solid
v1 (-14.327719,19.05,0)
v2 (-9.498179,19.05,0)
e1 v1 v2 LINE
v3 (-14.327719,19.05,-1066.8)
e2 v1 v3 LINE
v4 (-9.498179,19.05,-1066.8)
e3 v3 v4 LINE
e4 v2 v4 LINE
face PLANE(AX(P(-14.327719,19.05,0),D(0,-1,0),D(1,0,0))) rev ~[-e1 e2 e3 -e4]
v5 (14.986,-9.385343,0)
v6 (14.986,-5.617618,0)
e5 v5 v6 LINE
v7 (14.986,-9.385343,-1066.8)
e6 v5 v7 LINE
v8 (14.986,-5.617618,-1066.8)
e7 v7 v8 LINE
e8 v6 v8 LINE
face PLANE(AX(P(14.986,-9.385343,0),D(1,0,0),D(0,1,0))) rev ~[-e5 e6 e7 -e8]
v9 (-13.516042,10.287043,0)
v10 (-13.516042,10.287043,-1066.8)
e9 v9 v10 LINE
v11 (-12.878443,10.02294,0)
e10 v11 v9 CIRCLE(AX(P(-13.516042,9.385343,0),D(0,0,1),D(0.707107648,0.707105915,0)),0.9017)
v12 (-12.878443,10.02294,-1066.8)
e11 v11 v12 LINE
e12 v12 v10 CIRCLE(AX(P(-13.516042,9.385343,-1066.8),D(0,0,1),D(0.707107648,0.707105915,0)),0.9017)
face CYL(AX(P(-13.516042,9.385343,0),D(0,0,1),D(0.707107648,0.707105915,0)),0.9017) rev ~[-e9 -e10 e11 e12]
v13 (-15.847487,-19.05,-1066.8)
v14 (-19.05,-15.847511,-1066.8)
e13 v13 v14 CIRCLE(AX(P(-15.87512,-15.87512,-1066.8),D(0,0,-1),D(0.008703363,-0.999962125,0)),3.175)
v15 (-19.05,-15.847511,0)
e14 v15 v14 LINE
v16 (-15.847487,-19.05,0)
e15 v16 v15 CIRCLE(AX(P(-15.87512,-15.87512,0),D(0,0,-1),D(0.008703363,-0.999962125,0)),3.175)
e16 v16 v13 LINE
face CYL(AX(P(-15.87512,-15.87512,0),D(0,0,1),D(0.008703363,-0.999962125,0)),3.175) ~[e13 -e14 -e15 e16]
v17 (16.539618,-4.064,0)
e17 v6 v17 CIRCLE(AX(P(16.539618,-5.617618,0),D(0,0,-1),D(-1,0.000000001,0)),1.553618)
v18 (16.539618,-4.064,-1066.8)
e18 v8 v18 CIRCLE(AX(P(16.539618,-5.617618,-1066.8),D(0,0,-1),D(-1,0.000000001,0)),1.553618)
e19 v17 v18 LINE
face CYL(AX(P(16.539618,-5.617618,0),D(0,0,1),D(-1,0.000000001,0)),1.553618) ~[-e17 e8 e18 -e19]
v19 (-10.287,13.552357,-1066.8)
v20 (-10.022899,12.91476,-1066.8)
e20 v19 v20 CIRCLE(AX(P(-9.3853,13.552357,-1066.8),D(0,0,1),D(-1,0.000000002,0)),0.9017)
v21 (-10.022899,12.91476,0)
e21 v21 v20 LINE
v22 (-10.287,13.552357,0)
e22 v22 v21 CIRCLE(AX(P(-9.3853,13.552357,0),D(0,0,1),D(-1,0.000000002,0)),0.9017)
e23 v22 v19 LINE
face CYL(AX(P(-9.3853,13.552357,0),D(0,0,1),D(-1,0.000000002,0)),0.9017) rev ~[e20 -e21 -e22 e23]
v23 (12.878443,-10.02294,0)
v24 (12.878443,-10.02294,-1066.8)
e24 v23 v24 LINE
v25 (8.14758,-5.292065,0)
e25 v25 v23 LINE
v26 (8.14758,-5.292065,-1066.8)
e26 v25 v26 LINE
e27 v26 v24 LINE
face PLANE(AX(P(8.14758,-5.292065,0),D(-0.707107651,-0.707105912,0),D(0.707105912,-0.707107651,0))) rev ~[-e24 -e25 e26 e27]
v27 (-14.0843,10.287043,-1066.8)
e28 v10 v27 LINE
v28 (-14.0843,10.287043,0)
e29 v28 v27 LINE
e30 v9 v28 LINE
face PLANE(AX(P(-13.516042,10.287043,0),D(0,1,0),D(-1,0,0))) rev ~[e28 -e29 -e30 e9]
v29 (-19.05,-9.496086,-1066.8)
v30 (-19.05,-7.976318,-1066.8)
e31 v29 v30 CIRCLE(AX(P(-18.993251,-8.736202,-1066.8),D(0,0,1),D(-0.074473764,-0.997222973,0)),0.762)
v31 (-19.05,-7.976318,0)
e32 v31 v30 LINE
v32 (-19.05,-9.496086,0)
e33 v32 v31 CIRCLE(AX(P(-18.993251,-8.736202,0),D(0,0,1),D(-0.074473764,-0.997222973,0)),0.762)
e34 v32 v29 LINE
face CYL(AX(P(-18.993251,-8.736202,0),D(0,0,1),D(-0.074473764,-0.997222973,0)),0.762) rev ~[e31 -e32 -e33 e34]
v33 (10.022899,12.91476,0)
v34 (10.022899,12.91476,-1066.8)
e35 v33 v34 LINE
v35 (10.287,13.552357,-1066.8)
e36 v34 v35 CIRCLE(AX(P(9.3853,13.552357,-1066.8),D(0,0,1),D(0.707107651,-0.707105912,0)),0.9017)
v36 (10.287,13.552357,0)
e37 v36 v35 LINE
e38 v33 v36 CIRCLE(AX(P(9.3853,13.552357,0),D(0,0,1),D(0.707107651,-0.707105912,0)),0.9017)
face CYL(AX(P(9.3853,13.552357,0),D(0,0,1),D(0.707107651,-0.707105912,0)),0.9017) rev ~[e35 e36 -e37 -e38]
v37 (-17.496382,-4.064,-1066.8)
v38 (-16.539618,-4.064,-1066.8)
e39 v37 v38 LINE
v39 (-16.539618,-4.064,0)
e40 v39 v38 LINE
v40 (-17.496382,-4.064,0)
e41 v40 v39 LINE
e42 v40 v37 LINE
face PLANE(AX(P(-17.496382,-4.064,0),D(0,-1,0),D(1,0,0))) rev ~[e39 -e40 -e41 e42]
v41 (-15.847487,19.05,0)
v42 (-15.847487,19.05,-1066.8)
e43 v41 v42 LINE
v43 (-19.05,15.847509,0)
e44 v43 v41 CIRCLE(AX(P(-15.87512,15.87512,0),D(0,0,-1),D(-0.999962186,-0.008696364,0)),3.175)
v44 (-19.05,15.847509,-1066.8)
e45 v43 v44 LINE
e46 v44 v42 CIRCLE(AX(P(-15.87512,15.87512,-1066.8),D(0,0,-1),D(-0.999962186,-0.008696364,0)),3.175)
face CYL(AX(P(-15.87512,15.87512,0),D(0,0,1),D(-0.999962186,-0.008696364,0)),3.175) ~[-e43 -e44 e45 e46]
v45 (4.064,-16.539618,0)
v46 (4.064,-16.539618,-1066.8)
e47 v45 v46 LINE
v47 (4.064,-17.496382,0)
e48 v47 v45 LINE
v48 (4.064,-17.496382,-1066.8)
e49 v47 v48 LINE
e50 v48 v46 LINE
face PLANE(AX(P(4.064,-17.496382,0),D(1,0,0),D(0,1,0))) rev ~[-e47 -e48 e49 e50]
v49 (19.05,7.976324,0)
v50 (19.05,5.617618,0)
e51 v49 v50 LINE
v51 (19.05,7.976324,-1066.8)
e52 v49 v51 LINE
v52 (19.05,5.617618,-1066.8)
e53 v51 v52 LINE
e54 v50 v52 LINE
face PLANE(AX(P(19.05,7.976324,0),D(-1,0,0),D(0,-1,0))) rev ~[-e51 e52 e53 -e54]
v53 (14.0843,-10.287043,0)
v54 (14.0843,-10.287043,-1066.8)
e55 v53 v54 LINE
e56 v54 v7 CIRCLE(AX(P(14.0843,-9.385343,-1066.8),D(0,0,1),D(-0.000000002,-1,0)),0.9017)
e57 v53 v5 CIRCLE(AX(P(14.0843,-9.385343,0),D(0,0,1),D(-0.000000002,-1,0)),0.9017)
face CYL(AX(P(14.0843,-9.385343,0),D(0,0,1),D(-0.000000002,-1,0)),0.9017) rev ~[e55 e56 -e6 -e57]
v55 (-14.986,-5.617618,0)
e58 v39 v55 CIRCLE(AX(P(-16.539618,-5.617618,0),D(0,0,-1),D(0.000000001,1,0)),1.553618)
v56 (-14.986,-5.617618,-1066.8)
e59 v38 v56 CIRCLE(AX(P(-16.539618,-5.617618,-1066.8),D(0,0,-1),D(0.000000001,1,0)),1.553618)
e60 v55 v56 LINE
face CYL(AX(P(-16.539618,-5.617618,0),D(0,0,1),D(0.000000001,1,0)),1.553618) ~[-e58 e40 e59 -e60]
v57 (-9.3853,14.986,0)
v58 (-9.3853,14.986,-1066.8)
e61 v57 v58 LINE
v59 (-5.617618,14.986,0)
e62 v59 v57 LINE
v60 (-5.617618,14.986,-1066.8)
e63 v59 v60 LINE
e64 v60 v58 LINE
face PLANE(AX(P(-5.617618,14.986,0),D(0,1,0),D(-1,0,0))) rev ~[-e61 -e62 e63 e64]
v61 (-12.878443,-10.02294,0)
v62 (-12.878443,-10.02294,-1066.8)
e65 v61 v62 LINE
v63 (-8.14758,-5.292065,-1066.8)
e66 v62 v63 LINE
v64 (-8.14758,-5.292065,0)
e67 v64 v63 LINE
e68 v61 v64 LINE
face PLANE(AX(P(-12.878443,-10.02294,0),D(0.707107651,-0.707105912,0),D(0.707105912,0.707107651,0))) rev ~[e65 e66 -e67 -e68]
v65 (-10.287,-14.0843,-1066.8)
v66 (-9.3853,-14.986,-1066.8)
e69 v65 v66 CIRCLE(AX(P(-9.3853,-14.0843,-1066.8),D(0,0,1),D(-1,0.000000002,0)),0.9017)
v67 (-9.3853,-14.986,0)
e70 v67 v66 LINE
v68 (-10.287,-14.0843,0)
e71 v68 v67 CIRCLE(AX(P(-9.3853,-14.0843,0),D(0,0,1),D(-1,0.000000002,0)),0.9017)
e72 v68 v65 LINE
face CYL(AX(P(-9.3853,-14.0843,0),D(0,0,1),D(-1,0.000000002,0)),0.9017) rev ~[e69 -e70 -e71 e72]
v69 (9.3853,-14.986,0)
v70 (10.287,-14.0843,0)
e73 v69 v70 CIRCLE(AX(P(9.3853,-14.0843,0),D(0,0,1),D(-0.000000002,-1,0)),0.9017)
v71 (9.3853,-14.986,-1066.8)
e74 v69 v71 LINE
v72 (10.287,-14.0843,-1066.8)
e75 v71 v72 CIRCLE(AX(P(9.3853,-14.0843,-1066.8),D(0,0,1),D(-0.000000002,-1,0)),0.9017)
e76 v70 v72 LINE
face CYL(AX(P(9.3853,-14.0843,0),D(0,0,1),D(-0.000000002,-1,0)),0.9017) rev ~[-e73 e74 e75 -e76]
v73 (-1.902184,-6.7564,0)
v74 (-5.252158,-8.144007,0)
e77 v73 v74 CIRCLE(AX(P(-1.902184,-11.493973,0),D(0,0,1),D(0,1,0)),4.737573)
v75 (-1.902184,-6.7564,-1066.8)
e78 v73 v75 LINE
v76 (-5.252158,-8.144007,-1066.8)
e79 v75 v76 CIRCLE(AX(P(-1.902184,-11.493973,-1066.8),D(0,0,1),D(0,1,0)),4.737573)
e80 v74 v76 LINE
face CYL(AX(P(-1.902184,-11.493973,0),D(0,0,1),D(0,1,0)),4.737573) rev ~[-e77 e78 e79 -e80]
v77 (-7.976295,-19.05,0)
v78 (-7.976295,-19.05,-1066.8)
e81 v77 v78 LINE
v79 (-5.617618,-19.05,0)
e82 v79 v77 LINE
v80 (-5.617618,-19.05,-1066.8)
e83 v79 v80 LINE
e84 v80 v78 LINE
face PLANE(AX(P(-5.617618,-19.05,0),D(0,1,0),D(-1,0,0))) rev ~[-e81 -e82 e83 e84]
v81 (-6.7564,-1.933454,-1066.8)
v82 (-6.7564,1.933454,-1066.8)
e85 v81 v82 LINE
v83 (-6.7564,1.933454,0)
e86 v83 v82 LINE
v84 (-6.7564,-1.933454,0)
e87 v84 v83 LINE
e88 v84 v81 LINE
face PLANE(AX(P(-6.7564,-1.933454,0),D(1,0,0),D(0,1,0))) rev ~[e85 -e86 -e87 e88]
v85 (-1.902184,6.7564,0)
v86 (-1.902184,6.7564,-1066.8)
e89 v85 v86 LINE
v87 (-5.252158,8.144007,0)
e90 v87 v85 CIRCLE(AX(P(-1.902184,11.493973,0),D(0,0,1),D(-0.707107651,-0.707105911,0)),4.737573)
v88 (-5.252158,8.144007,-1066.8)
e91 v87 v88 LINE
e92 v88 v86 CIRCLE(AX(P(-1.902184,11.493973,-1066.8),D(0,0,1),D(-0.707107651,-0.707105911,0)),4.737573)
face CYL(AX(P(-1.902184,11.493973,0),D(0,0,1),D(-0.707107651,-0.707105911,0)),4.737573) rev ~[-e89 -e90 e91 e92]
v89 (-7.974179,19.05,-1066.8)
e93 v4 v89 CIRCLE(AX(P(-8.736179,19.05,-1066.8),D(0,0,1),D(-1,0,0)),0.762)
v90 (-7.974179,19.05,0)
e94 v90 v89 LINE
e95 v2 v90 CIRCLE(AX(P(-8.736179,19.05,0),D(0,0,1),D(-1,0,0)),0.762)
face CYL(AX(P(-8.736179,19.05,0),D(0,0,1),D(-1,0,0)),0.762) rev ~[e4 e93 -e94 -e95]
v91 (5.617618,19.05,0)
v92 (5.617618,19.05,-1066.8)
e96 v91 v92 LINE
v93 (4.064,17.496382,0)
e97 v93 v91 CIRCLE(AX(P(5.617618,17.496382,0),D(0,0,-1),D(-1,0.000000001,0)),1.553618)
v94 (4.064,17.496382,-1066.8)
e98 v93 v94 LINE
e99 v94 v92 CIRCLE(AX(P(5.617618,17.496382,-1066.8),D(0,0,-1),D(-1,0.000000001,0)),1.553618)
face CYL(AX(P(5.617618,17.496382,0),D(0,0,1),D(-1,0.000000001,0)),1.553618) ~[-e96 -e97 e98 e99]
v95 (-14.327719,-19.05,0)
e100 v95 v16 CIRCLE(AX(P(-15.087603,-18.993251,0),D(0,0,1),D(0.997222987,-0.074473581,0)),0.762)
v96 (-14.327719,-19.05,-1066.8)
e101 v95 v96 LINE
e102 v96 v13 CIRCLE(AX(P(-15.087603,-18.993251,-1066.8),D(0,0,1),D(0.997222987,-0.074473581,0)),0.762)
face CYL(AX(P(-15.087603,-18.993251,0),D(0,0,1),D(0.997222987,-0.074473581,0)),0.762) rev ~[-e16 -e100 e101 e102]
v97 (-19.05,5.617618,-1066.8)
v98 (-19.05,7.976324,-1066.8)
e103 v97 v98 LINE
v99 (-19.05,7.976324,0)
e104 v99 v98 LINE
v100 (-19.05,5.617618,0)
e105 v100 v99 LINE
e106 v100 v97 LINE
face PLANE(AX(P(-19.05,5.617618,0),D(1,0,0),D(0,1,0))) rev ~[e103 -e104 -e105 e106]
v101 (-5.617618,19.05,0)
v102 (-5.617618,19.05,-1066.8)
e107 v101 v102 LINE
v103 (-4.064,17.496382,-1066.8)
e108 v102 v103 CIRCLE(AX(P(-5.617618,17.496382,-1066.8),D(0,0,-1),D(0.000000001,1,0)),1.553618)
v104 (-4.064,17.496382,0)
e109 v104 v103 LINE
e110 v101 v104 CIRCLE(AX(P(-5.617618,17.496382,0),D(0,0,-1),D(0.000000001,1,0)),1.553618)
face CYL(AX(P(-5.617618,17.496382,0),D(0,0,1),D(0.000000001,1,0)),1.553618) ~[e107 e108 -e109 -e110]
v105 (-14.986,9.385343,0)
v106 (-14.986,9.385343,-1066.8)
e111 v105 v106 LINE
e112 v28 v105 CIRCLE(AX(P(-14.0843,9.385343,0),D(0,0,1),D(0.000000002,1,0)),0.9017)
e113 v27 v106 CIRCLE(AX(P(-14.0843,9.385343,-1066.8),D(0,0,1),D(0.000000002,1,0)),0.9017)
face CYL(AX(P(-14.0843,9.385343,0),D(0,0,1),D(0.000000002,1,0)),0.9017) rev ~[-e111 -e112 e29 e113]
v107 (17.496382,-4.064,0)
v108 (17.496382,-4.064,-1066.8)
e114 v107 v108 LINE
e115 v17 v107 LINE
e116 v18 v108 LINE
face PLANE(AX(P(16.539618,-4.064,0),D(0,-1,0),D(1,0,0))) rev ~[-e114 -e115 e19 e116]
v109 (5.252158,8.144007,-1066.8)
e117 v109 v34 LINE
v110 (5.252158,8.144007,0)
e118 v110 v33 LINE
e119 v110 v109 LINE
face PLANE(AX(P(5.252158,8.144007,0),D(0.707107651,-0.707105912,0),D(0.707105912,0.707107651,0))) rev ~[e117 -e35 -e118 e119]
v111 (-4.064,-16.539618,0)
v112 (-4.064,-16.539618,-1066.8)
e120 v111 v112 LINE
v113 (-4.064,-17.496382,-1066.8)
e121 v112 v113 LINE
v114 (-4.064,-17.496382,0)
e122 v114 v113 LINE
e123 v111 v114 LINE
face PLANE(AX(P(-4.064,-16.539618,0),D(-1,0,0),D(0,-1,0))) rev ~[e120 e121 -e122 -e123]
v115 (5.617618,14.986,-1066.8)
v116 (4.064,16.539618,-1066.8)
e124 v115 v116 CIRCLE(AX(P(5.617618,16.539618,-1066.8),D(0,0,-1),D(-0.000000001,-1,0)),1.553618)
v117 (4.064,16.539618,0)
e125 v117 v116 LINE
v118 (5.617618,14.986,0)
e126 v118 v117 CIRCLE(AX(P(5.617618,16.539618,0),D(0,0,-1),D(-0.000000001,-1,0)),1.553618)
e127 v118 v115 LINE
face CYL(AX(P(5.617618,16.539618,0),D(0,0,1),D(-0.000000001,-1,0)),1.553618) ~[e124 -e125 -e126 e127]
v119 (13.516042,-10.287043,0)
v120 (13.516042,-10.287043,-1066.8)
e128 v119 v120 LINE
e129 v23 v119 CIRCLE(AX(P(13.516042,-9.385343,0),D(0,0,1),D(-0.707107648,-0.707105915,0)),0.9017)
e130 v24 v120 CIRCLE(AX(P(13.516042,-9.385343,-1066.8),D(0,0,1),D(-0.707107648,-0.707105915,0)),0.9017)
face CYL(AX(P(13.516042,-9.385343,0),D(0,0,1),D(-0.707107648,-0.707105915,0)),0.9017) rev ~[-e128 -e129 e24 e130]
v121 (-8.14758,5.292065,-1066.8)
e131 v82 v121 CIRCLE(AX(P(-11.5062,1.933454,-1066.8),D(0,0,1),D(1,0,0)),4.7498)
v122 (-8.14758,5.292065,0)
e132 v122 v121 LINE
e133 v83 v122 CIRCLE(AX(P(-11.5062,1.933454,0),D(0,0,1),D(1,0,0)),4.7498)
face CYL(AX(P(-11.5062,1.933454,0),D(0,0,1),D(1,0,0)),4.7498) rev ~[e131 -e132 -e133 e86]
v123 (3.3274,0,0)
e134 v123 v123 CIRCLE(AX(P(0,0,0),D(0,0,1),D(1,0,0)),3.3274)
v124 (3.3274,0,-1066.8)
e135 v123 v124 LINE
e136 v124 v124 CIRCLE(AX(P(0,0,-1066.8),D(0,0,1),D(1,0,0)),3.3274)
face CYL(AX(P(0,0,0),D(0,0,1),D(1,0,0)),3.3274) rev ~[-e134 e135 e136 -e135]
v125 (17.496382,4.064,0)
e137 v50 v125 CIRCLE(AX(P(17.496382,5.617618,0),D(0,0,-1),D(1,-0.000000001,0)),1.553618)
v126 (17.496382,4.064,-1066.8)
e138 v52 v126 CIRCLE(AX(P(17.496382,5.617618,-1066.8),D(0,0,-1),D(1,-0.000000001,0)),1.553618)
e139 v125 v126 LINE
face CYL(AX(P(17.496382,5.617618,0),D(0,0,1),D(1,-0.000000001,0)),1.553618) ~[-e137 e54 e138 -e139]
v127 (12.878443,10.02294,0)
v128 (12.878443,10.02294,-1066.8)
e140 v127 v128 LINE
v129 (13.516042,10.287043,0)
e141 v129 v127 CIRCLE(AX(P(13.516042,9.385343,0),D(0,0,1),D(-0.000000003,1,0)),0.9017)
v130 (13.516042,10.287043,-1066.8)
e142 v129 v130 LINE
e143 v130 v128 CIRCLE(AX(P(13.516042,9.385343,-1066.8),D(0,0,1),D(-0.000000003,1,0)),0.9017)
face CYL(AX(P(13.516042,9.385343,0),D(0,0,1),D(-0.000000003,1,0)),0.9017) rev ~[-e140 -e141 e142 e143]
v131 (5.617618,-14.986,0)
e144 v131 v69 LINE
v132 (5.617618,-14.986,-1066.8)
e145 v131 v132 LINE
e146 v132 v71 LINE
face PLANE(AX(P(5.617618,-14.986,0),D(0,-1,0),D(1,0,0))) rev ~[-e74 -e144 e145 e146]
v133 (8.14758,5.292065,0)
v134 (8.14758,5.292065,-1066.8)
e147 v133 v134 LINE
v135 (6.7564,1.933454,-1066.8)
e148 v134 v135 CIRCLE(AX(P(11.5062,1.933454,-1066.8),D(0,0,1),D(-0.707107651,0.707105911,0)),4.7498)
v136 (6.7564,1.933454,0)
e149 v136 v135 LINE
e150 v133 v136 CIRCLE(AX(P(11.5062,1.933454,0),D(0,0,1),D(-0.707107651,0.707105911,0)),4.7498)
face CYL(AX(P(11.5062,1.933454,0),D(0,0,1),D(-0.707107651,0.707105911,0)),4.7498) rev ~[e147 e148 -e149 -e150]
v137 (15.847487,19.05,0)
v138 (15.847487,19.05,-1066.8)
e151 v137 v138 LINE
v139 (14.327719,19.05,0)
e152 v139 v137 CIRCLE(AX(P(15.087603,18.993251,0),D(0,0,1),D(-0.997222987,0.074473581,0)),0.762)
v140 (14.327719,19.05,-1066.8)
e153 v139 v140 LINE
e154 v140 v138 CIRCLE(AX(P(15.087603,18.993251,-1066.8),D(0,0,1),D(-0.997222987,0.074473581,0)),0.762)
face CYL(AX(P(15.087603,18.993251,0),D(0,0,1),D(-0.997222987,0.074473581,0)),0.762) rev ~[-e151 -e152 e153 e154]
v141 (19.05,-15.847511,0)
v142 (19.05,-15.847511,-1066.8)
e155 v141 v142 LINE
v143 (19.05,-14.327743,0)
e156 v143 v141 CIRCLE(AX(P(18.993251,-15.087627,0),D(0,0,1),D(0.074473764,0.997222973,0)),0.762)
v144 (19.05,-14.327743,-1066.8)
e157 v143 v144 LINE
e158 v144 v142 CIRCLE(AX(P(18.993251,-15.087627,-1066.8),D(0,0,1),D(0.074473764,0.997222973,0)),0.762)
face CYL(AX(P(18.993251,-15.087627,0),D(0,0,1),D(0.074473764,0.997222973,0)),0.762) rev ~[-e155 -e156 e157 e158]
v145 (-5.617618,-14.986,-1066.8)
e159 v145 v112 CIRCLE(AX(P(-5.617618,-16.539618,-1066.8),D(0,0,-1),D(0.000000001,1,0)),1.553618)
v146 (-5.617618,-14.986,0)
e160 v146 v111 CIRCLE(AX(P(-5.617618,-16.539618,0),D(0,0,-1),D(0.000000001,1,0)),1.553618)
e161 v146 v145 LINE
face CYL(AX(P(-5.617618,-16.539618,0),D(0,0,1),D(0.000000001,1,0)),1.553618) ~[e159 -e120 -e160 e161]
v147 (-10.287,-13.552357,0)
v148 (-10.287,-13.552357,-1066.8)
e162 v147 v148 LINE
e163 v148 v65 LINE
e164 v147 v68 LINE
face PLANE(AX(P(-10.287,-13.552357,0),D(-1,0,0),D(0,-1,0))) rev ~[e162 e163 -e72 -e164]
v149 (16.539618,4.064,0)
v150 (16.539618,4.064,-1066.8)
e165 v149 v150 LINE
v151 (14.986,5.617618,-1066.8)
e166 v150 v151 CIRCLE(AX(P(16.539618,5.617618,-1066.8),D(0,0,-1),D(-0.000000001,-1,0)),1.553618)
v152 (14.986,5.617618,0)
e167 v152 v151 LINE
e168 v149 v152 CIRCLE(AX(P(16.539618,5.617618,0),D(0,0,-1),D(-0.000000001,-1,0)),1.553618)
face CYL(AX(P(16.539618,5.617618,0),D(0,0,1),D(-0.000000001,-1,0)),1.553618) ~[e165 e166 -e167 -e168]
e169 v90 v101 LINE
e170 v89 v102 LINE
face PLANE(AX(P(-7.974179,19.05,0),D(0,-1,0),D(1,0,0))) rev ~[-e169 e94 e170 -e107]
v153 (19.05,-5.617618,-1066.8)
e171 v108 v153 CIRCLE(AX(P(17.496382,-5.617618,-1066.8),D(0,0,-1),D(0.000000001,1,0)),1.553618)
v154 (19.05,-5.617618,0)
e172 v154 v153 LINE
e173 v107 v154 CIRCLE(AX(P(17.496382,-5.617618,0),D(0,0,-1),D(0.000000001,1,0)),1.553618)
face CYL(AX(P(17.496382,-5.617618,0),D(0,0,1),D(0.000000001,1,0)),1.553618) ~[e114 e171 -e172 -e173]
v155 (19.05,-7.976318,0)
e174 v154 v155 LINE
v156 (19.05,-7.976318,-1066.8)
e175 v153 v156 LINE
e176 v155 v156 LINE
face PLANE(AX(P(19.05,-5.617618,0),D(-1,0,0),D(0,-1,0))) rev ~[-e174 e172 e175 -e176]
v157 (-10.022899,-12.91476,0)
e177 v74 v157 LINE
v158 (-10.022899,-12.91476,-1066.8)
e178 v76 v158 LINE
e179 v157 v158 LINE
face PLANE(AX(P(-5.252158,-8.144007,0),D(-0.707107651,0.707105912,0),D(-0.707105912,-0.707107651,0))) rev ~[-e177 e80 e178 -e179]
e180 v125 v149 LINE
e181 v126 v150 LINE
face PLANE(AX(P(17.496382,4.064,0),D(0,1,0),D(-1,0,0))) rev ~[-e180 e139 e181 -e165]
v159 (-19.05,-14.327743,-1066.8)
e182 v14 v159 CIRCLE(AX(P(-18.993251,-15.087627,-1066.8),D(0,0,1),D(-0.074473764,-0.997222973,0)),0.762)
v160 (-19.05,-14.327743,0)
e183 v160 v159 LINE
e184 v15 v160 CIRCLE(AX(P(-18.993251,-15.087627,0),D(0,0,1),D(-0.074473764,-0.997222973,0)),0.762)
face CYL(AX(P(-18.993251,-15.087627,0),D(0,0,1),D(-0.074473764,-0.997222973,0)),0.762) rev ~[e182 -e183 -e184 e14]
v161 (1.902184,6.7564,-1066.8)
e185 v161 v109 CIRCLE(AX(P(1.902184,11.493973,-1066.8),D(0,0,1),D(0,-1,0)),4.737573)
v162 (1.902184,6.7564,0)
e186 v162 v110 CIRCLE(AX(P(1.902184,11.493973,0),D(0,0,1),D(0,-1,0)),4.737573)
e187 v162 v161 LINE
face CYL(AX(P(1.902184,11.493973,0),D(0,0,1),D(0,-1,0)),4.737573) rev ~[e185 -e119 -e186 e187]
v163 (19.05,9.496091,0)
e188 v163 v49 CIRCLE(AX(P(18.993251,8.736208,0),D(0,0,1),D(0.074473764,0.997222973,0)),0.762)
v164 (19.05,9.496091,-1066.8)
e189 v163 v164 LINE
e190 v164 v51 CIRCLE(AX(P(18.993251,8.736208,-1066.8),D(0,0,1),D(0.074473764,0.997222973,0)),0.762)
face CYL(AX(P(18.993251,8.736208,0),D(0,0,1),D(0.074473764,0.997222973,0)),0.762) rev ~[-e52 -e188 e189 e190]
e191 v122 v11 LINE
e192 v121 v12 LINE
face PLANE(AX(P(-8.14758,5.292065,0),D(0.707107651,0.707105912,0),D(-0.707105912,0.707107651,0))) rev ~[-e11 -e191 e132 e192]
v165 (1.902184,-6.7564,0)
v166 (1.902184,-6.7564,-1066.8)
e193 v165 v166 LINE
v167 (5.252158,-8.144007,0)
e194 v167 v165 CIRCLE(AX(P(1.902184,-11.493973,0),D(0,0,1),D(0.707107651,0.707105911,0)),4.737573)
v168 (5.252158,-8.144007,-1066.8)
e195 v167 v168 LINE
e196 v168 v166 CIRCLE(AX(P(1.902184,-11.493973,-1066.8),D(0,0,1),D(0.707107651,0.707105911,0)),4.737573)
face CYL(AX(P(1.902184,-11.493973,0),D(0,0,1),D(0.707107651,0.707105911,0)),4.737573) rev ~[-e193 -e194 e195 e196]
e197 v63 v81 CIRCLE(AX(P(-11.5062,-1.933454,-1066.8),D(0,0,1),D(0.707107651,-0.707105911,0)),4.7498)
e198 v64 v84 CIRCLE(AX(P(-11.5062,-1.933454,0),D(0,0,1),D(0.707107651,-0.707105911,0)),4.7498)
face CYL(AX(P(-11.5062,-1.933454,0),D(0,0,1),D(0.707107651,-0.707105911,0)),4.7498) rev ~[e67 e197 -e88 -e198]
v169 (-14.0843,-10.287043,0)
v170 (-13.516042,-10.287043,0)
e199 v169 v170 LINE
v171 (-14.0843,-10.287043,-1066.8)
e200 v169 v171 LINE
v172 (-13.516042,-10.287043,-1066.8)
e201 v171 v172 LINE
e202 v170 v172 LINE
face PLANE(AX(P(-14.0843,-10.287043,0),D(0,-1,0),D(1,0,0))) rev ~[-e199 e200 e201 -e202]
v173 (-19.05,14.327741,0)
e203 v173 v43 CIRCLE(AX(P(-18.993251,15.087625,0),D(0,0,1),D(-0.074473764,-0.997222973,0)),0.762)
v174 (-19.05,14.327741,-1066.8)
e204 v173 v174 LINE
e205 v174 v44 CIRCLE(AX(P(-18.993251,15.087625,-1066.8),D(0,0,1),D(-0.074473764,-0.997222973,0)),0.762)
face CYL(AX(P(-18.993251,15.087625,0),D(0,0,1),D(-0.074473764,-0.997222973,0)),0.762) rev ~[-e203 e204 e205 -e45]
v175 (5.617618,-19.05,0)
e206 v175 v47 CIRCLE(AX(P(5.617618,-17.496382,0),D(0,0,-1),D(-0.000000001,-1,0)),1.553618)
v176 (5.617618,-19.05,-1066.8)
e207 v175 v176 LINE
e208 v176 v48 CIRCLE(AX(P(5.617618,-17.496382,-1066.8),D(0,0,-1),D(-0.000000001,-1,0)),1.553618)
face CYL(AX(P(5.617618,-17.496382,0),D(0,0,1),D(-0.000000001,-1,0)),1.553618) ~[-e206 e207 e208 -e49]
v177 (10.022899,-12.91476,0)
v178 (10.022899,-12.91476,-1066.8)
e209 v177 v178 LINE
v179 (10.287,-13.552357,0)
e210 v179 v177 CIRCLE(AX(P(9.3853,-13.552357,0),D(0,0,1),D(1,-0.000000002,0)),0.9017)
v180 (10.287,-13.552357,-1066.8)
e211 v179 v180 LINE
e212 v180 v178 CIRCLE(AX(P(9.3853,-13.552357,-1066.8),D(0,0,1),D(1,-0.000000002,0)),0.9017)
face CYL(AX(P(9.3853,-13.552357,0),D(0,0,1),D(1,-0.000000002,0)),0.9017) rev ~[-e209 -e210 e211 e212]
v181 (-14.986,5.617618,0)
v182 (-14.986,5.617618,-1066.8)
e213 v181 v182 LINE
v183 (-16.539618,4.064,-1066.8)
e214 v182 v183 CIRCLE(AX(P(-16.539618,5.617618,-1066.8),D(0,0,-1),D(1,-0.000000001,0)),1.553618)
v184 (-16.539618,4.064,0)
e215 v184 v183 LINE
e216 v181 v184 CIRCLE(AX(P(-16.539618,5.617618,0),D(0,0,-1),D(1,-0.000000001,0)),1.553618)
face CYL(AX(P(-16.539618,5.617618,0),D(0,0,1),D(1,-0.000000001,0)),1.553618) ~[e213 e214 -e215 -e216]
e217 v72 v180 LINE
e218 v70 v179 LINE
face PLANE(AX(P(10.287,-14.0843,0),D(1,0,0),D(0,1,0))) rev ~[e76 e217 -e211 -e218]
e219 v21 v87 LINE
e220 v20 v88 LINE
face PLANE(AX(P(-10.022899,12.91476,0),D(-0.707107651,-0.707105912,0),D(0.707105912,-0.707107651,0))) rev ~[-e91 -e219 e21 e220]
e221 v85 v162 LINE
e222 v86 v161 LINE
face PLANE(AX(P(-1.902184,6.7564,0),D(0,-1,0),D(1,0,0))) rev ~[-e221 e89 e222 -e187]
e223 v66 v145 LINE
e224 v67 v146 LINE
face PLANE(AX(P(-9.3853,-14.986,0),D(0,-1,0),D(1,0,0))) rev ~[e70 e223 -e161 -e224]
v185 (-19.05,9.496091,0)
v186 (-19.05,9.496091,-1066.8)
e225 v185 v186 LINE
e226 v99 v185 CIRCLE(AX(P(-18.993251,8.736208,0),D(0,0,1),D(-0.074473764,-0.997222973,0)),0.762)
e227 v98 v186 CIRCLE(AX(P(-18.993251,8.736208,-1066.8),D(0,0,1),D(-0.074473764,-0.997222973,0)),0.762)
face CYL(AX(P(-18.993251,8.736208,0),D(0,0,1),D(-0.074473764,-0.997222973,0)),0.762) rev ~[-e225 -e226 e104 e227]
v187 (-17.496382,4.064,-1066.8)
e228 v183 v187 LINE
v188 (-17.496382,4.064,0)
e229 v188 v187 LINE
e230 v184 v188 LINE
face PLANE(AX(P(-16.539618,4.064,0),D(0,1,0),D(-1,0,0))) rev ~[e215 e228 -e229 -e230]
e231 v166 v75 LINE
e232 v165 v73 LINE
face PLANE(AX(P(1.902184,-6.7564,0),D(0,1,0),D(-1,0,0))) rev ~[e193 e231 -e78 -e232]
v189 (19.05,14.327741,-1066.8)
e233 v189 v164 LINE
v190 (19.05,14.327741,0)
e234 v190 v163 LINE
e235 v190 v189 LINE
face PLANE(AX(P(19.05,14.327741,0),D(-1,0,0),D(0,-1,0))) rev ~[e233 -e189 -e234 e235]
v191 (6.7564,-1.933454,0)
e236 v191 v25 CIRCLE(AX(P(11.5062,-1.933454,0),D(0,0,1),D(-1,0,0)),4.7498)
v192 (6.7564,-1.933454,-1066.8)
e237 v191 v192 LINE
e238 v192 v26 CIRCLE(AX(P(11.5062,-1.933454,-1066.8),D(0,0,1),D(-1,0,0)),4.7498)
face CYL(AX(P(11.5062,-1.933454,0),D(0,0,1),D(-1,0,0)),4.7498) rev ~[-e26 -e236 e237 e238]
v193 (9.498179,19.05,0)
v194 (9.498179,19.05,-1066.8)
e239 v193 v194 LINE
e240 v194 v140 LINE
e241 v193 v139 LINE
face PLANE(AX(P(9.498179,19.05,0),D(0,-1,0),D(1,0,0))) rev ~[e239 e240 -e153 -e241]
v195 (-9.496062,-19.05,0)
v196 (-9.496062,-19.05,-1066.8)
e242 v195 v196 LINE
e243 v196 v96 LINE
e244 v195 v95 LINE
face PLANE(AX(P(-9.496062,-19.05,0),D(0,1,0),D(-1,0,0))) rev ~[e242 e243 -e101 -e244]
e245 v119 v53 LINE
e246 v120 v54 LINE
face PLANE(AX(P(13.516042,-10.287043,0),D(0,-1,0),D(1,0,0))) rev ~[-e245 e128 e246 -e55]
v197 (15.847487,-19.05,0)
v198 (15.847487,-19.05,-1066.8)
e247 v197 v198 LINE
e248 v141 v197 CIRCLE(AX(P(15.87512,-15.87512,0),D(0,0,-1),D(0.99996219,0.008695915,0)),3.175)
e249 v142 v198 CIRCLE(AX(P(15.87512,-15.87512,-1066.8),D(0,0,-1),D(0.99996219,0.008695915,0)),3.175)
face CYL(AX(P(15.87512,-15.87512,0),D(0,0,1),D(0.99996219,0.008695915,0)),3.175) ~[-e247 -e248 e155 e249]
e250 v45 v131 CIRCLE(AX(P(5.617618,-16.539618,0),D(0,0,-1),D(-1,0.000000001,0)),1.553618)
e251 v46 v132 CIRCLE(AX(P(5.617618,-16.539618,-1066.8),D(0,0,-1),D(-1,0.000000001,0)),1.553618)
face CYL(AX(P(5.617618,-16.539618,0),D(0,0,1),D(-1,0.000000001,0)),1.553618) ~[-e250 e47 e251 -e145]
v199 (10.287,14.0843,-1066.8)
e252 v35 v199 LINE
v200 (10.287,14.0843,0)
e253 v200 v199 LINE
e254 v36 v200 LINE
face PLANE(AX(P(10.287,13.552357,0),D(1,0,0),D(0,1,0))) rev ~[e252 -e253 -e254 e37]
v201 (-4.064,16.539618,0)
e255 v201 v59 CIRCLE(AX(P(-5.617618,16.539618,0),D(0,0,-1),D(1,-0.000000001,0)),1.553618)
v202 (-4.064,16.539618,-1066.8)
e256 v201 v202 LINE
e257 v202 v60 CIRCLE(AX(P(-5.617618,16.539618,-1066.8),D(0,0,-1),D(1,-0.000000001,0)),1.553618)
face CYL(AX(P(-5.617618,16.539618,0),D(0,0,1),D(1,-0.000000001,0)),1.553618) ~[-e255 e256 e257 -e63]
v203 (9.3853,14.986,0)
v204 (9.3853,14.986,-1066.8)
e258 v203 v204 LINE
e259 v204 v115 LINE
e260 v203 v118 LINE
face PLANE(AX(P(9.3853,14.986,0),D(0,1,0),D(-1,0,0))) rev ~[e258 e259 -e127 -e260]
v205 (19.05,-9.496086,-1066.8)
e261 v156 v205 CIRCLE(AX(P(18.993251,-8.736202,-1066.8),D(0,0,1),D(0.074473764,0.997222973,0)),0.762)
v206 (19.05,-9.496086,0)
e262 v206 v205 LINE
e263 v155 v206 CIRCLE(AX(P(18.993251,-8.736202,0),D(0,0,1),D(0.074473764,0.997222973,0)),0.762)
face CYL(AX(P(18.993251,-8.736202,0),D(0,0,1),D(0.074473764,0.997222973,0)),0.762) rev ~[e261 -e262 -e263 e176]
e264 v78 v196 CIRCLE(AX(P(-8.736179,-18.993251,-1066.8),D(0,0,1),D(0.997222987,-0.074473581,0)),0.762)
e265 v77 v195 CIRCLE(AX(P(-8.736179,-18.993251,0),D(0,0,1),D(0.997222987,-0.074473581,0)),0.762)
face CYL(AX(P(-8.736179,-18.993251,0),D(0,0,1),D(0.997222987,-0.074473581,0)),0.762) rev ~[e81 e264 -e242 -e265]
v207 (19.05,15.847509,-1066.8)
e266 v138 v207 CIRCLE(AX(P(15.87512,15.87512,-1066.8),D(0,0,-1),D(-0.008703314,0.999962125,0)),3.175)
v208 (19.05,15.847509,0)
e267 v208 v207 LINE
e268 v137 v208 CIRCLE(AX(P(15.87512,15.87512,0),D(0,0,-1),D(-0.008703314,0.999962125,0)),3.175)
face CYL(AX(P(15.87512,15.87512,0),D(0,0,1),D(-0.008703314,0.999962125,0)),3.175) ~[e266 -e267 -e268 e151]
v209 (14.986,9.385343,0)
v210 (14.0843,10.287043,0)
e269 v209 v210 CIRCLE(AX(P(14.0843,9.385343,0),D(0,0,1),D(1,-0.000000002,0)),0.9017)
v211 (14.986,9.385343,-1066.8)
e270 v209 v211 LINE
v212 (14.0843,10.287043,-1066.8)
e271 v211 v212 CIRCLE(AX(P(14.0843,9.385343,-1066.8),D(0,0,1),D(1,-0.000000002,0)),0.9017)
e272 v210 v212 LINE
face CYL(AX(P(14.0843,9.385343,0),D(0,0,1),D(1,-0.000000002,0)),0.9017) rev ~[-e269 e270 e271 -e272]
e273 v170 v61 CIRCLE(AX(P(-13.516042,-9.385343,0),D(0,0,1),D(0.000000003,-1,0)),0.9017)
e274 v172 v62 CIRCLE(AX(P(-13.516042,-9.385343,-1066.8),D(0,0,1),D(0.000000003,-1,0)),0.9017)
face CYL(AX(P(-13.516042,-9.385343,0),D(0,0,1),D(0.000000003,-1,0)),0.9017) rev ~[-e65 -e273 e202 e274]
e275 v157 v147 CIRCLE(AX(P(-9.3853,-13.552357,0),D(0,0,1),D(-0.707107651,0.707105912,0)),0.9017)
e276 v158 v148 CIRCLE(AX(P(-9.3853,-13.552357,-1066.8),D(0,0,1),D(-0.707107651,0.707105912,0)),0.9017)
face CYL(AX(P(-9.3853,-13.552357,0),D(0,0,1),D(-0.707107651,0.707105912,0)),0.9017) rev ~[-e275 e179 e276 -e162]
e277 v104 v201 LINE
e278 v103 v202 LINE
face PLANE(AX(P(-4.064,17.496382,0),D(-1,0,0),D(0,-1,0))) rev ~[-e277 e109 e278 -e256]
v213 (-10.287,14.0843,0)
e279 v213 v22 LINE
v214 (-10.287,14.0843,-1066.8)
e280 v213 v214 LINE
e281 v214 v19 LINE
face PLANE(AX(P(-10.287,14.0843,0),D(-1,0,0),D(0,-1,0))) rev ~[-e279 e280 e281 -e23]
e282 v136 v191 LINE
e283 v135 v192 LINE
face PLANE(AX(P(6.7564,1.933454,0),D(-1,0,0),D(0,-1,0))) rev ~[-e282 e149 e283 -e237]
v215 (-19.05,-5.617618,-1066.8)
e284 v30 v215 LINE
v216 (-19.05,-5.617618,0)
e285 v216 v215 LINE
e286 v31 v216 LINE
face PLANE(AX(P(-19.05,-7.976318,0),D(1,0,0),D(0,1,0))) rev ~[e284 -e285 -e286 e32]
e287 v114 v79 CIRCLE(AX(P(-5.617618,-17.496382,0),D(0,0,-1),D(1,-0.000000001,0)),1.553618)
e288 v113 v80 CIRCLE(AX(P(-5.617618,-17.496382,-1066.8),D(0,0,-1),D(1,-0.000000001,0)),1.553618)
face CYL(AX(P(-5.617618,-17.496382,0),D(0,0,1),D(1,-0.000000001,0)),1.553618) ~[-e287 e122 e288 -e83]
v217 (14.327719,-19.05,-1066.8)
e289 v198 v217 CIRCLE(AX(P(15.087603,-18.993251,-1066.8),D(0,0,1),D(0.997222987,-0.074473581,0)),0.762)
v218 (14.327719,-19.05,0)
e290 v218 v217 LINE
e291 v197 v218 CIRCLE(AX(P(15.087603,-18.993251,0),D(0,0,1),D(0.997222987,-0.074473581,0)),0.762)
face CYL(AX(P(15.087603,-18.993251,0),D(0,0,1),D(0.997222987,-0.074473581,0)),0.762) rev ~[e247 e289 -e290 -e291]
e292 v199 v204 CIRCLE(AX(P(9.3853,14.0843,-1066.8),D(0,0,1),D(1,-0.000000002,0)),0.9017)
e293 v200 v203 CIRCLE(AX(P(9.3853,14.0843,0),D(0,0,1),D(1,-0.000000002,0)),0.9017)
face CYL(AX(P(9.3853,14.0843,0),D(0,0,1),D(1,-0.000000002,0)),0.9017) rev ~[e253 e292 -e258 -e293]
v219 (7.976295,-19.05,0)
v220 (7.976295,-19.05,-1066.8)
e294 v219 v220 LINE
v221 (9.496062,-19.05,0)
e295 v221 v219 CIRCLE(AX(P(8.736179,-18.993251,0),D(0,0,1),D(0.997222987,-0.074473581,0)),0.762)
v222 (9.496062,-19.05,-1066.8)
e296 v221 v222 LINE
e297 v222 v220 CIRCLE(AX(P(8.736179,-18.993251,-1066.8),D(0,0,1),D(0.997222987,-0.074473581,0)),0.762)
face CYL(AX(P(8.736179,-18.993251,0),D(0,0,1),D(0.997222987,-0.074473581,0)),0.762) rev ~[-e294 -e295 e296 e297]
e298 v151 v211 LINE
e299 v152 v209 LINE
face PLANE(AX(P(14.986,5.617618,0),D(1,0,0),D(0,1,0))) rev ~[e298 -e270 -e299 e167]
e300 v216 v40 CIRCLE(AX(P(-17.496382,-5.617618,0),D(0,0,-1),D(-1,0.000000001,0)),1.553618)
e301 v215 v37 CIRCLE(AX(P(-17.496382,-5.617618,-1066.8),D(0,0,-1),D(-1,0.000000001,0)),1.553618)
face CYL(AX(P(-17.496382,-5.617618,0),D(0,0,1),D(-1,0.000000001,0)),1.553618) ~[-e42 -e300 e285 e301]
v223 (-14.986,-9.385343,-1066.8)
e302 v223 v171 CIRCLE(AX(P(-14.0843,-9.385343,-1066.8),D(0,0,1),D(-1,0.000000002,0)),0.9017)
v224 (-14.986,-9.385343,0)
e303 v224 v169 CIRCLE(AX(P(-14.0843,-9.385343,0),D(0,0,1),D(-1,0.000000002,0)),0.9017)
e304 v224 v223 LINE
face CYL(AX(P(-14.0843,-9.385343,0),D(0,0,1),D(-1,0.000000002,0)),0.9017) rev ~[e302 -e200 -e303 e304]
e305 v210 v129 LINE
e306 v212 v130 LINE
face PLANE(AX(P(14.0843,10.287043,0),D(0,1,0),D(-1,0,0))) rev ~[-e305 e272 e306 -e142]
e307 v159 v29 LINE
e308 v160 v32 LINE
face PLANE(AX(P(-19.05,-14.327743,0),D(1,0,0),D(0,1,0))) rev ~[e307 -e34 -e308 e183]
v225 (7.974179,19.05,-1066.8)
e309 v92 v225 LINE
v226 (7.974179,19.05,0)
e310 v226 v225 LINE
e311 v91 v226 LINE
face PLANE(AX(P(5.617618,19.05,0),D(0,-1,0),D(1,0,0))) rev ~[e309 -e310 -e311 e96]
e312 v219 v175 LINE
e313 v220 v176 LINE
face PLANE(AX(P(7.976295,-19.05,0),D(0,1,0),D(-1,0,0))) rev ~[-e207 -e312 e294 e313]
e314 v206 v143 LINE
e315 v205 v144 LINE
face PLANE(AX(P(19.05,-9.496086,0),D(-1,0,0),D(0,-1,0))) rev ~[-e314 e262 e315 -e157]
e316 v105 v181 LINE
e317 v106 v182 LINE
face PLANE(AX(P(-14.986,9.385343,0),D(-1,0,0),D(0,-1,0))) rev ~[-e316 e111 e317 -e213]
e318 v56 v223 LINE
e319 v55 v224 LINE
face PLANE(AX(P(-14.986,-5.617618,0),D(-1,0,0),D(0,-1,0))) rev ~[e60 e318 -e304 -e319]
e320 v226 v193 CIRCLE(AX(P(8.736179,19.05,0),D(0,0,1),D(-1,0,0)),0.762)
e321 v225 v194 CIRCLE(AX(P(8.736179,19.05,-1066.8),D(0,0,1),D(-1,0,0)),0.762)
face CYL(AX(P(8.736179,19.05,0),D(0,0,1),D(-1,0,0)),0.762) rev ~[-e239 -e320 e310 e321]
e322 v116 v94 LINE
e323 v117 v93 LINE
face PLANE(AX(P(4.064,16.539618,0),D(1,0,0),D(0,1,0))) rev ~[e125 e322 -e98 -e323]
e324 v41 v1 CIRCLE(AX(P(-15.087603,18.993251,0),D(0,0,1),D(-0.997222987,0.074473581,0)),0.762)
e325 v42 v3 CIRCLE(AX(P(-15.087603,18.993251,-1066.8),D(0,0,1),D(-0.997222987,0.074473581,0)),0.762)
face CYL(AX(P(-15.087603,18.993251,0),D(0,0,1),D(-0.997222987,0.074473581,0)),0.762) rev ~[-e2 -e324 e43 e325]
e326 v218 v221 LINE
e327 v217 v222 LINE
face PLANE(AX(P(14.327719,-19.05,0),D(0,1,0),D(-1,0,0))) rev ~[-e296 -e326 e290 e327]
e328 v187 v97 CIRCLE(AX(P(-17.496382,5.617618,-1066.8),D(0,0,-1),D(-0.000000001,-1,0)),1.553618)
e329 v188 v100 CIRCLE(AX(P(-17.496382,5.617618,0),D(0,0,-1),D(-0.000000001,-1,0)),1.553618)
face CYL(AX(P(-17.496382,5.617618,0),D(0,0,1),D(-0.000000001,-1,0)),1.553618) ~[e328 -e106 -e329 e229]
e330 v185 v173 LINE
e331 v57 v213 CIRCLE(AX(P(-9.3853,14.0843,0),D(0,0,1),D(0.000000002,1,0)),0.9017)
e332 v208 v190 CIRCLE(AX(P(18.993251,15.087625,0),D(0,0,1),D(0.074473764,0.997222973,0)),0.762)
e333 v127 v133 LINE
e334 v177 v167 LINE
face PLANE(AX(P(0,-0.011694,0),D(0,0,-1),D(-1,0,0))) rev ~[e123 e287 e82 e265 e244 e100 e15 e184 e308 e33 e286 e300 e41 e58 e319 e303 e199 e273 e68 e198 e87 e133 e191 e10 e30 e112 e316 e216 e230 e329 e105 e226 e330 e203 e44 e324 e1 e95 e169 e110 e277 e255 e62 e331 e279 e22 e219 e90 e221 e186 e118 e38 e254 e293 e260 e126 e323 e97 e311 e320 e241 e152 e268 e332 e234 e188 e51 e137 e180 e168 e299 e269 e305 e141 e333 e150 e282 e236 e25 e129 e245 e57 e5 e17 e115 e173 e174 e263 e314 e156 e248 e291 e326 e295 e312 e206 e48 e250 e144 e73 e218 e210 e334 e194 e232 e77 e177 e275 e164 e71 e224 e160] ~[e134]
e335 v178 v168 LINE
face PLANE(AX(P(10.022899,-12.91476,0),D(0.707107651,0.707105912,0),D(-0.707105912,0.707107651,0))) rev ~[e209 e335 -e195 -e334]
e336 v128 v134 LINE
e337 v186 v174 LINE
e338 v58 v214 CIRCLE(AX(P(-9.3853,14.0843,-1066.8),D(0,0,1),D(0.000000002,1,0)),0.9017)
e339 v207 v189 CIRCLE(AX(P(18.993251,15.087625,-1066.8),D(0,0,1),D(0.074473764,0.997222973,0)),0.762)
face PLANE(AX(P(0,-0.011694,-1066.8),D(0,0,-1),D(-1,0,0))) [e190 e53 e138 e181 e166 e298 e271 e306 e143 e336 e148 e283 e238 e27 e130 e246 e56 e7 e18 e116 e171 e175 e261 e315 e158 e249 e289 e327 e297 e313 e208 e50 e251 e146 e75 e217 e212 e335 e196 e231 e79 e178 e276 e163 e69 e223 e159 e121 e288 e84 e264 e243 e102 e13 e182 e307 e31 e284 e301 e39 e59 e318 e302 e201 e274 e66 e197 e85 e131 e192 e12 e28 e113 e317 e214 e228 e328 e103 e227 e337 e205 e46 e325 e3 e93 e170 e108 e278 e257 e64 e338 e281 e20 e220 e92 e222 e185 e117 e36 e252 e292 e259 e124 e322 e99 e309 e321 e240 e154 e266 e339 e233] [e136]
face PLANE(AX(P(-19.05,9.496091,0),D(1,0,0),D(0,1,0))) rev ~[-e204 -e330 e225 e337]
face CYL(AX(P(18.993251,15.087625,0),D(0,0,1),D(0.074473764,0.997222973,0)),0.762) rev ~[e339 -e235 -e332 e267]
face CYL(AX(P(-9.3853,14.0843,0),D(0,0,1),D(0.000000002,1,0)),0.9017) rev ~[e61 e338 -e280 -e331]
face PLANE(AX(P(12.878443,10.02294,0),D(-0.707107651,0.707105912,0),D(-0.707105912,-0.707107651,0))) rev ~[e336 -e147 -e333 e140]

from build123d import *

# Parameters (mm, degrees)
SKETCH1_R      = 3.3274
EXTRUDE1_DEPTH = 1066.8


with BuildPart() as part:
    # Sketch1 → Extrude1 (new body)
    with BuildSketch(Plane.XY):
        with BuildLine():
            Line((-10.022898969, 12.91475973), (-5.252158105, 8.144007132))
            ThreePointArc((-5.252158105, 8.144007132), (-3.715177372, 7.117027388), (-1.902183975, 6.7564))
            Line((-1.902183975, 6.7564), (1.902183975, 6.7564))
            ThreePointArc((1.902183975, 6.7564), (3.715177372, 7.117027388), (5.252158105, 8.144007132))
            Line((5.252158105, 8.144007132), (10.022898969, 12.91475973))
            ThreePointArc((10.022898969, 12.91475973), (10.218362387, 13.207291992), (10.287, 13.552357131))
            Line((10.287, 13.552357131), (10.287, 14.0843))
            ThreePointArc((10.287, 14.0843), (10.022898185, 14.721898185), (9.3853, 14.986))
            Line((9.3853, 14.986), (5.617617549, 14.986))
            ThreePointArc((5.617617549, 14.986), (4.519044045, 15.441044045), (4.064, 16.539617549))
            Line((4.064, 16.539617549), (4.064, 17.496382451))
            ThreePointArc((4.064, 17.496382451), (4.519044045, 18.594955955), (5.617617549, 19.05))
            Line((5.617617549, 19.05), (7.974178704, 19.05))
            ThreePointArc((7.974178704, 19.05), (8.736178704, 18.288), (9.498178704, 19.05))
            Line((9.498178704, 19.05), (14.327719207, 19.05))
            ThreePointArc((14.327719207, 19.05), (15.087603123, 18.231251131), (15.847487039, 19.05))
            ThreePointArc((15.847487039, 19.05), (18.120176289, 18.120192083), (19.05, 15.847509295))
            ThreePointArc((19.05, 15.847509295), (18.231250992, 15.08762539), (19.05, 14.327741484))
            Line((19.05, 14.327741484), (19.05, 9.496091471))
            ThreePointArc((19.05, 9.496091471), (18.231250992, 8.736207565), (19.05, 7.97632366))
            Line((19.05, 7.97632366), (19.05, 5.617617549))
            ThreePointArc((19.05, 5.617617549), (18.594955955, 4.519044045), (17.496382451, 4.064))
            Line((17.496382451, 4.064), (16.539617549, 4.064))
            ThreePointArc((16.539617549, 4.064), (15.441044045, 4.519044045), (14.986, 5.617617549))
            Line((14.986, 5.617617549), (14.986, 9.385342516))
            ThreePointArc((14.986, 9.385342516), (14.721898185, 10.022940701), (14.0843, 10.287042516))
            Line((14.0843, 10.287042516), (13.516042086, 10.287042516))
            ThreePointArc((13.516042086, 10.287042516), (13.170975923, 10.218404478), (12.878443117, 10.022939917))
            Line((12.878443117, 10.022939917), (8.14758008, 5.292065243))
            ThreePointArc((8.14758008, 5.292065243), (7.117955879, 3.751120653), (6.7564, 1.933453584))
            Line((6.7564, 1.933453584), (6.7564, -1.933453584))
            ThreePointArc((6.7564, -1.933453584), (7.117955879, -3.751120653), (8.14758008, -5.292065243))
            Line((8.14758008, -5.292065243), (12.878443117, -10.022939917))
            ThreePointArc((12.878443117, -10.022939917), (13.170975923, -10.218404478), (13.516042086, -10.287042516))
            Line((13.516042086, -10.287042516), (14.0843, -10.287042516))
            ThreePointArc((14.0843, -10.287042516), (14.721898185, -10.022940701), (14.986, -9.385342516))
            Line((14.986, -9.385342516), (14.986, -5.617617549))
            ThreePointArc((14.986, -5.617617549), (15.441044045, -4.519044045), (16.539617549, -4.064))
            Line((16.539617549, -4.064), (17.496382451, -4.064))
            ThreePointArc((17.496382451, -4.064), (18.594955955, -4.519044045), (19.05, -5.617617549))
            Line((19.05, -5.617617549), (19.05, -7.976318491))
            ThreePointArc((19.05, -7.976318491), (18.231250992, -8.736202396), (19.05, -9.496086302))
            Line((19.05, -9.496086302), (19.05, -14.32774291))
            ThreePointArc((19.05, -14.32774291), (18.231250992, -15.087626816), (19.05, -15.847510721))
            ThreePointArc((19.05, -15.847510721), (18.120175716, -18.120192644), (15.847486868, -19.05))
            ThreePointArc((15.847486868, -19.05), (15.087602952, -18.231251131), (14.327719036, -19.05))
            Line((14.327719036, -19.05), (9.496062448, -19.05))
            ThreePointArc((9.496062448, -19.05), (8.736178532, -18.231251131), (7.976294616, -19.05))
            Line((7.976294616, -19.05), (5.617617549, -19.05))
            ThreePointArc((5.617617549, -19.05), (4.519044045, -18.594955955), (4.064, -17.496382451))
            Line((4.064, -17.496382451), (4.064, -16.539617549))
            ThreePointArc((4.064, -16.539617549), (4.519044045, -15.441044045), (5.617617549, -14.986))
            Line((5.617617549, -14.986), (9.3853, -14.986))
            ThreePointArc((9.3853, -14.986), (10.022898185, -14.721898185), (10.287, -14.0843))
            Line((10.287, -14.0843), (10.287, -13.552357131))
            ThreePointArc((10.287, -13.552357131), (10.218362387, -13.207291992), (10.022898969, -12.91475973))
            Line((10.022898969, -12.91475973), (5.252158105, -8.144007132))
            ThreePointArc((5.252158105, -8.144007132), (3.715177372, -7.117027388), (1.902183975, -6.7564))
            Line((1.902183975, -6.7564), (-1.902183975, -6.7564))
            ThreePointArc((-1.902183975, -6.7564), (-3.715177372, -7.117027388), (-5.252158105, -8.144007132))
            Line((-5.252158105, -8.144007132), (-10.022898969, -12.91475973))
            ThreePointArc((-10.022898969, -12.91475973), (-10.218362387, -13.207291992), (-10.287, -13.552357131))
            Line((-10.287, -13.552357131), (-10.287, -14.0843))
            ThreePointArc((-10.287, -14.0843), (-10.022898185, -14.721898185), (-9.3853, -14.986))
            Line((-9.3853, -14.986), (-5.617617549, -14.986))
            ThreePointArc((-5.617617549, -14.986), (-4.519044045, -15.441044045), (-4.064, -16.539617549))
            Line((-4.064, -16.539617549), (-4.064, -17.496382451))
            ThreePointArc((-4.064, -17.496382451), (-4.519044045, -18.594955955), (-5.617617549, -19.05))
            Line((-5.617617549, -19.05), (-7.976294616, -19.05))
            ThreePointArc((-7.976294616, -19.05), (-8.736178532, -18.231251131), (-9.496062448, -19.05))
            Line((-9.496062448, -19.05), (-14.327719036, -19.05))
            ThreePointArc((-14.327719036, -19.05), (-15.087602952, -18.231251131), (-15.847486868, -19.05))
            ThreePointArc((-15.847486868, -19.05), (-18.120175716, -18.120192644), (-19.05, -15.847510721))
            ThreePointArc((-19.05, -15.847510721), (-18.231250992, -15.087626816), (-19.05, -14.32774291))
            Line((-19.05, -14.32774291), (-19.05, -9.496086302))
            ThreePointArc((-19.05, -9.496086302), (-18.231250992, -8.736202396), (-19.05, -7.976318491))
            Line((-19.05, -7.976318491), (-19.05, -5.617617549))
            ThreePointArc((-19.05, -5.617617549), (-18.594955955, -4.519044045), (-17.496382451, -4.064))
            Line((-17.496382451, -4.064), (-16.539617549, -4.064))
            ThreePointArc((-16.539617549, -4.064), (-15.441044045, -4.519044045), (-14.986, -5.617617549))
            Line((-14.986, -5.617617549), (-14.986, -9.385342516))
            ThreePointArc((-14.986, -9.385342516), (-14.721898185, -10.022940701), (-14.0843, -10.287042516))
            Line((-14.0843, -10.287042516), (-13.516042086, -10.287042516))
            ThreePointArc((-13.516042086, -10.287042516), (-13.170975923, -10.218404478), (-12.878443117, -10.022939917))
            Line((-12.878443117, -10.022939917), (-8.14758008, -5.292065243))
            ThreePointArc((-8.14758008, -5.292065243), (-7.117955879, -3.751120653), (-6.7564, -1.933453584))
            Line((-6.7564, -1.933453584), (-6.7564, 1.933453584))
            ThreePointArc((-6.7564, 1.933453584), (-7.117955879, 3.751120653), (-8.14758008, 5.292065243))
            Line((-8.14758008, 5.292065243), (-12.878443117, 10.022939917))
            ThreePointArc((-12.878443117, 10.022939917), (-13.170975923, 10.218404478), (-13.516042086, 10.287042516))
            Line((-13.516042086, 10.287042516), (-14.0843, 10.287042516))
            ThreePointArc((-14.0843, 10.287042516), (-14.721898185, 10.022940701), (-14.986, 9.385342516))
            Line((-14.986, 9.385342516), (-14.986, 5.617617549))
            ThreePointArc((-14.986, 5.617617549), (-15.441044045, 4.519044045), (-16.539617549, 4.064))
            Line((-16.539617549, 4.064), (-17.496382451, 4.064))
            ThreePointArc((-17.496382451, 4.064), (-18.594955955, 4.519044045), (-19.05, 5.617617549))
            Line((-19.05, 5.617617549), (-19.05, 7.97632366))
            ThreePointArc((-19.05, 7.97632366), (-18.231250992, 8.736207565), (-19.05, 9.496091471))
            Line((-19.05, 9.496091471), (-19.05, 14.327741484))
            ThreePointArc((-19.05, 14.327741484), (-18.231250992, 15.08762539), (-19.05, 15.847509295))
            ThreePointArc((-19.05, 15.847509295), (-18.120176289, 18.120192083), (-15.847487039, 19.05))
            ThreePointArc((-15.847487039, 19.05), (-15.087603123, 18.231251131), (-14.327719207, 19.05))
            Line((-14.327719207, 19.05), (-9.498178704, 19.05))
            ThreePointArc((-9.498178704, 19.05), (-8.736178704, 18.288), (-7.974178704, 19.05))
            Line((-7.974178704, 19.05), (-5.617617549, 19.05))
            ThreePointArc((-5.617617549, 19.05), (-4.519044045, 18.594955955), (-4.064, 17.496382451))
            Line((-4.064, 17.496382451), (-4.064, 16.539617549))
            ThreePointArc((-4.064, 16.539617549), (-4.519044045, 15.441044045), (-5.617617549, 14.986))
            Line((-5.617617549, 14.986), (-9.3853, 14.986))
            ThreePointArc((-9.3853, 14.986), (-10.022898185, 14.721898185), (-10.287, 14.0843))
            Line((-10.287, 14.0843), (-10.287, 13.552357131))
            ThreePointArc((-10.287, 13.552357131), (-10.218362387, 13.207291992), (-10.022898969, 12.91475973))
        make_face()
        Circle(SKETCH1_R, mode=Mode.SUBTRACT)
    extrude(amount=-EXTRUDE1_DEPTH)


solid = part.part
